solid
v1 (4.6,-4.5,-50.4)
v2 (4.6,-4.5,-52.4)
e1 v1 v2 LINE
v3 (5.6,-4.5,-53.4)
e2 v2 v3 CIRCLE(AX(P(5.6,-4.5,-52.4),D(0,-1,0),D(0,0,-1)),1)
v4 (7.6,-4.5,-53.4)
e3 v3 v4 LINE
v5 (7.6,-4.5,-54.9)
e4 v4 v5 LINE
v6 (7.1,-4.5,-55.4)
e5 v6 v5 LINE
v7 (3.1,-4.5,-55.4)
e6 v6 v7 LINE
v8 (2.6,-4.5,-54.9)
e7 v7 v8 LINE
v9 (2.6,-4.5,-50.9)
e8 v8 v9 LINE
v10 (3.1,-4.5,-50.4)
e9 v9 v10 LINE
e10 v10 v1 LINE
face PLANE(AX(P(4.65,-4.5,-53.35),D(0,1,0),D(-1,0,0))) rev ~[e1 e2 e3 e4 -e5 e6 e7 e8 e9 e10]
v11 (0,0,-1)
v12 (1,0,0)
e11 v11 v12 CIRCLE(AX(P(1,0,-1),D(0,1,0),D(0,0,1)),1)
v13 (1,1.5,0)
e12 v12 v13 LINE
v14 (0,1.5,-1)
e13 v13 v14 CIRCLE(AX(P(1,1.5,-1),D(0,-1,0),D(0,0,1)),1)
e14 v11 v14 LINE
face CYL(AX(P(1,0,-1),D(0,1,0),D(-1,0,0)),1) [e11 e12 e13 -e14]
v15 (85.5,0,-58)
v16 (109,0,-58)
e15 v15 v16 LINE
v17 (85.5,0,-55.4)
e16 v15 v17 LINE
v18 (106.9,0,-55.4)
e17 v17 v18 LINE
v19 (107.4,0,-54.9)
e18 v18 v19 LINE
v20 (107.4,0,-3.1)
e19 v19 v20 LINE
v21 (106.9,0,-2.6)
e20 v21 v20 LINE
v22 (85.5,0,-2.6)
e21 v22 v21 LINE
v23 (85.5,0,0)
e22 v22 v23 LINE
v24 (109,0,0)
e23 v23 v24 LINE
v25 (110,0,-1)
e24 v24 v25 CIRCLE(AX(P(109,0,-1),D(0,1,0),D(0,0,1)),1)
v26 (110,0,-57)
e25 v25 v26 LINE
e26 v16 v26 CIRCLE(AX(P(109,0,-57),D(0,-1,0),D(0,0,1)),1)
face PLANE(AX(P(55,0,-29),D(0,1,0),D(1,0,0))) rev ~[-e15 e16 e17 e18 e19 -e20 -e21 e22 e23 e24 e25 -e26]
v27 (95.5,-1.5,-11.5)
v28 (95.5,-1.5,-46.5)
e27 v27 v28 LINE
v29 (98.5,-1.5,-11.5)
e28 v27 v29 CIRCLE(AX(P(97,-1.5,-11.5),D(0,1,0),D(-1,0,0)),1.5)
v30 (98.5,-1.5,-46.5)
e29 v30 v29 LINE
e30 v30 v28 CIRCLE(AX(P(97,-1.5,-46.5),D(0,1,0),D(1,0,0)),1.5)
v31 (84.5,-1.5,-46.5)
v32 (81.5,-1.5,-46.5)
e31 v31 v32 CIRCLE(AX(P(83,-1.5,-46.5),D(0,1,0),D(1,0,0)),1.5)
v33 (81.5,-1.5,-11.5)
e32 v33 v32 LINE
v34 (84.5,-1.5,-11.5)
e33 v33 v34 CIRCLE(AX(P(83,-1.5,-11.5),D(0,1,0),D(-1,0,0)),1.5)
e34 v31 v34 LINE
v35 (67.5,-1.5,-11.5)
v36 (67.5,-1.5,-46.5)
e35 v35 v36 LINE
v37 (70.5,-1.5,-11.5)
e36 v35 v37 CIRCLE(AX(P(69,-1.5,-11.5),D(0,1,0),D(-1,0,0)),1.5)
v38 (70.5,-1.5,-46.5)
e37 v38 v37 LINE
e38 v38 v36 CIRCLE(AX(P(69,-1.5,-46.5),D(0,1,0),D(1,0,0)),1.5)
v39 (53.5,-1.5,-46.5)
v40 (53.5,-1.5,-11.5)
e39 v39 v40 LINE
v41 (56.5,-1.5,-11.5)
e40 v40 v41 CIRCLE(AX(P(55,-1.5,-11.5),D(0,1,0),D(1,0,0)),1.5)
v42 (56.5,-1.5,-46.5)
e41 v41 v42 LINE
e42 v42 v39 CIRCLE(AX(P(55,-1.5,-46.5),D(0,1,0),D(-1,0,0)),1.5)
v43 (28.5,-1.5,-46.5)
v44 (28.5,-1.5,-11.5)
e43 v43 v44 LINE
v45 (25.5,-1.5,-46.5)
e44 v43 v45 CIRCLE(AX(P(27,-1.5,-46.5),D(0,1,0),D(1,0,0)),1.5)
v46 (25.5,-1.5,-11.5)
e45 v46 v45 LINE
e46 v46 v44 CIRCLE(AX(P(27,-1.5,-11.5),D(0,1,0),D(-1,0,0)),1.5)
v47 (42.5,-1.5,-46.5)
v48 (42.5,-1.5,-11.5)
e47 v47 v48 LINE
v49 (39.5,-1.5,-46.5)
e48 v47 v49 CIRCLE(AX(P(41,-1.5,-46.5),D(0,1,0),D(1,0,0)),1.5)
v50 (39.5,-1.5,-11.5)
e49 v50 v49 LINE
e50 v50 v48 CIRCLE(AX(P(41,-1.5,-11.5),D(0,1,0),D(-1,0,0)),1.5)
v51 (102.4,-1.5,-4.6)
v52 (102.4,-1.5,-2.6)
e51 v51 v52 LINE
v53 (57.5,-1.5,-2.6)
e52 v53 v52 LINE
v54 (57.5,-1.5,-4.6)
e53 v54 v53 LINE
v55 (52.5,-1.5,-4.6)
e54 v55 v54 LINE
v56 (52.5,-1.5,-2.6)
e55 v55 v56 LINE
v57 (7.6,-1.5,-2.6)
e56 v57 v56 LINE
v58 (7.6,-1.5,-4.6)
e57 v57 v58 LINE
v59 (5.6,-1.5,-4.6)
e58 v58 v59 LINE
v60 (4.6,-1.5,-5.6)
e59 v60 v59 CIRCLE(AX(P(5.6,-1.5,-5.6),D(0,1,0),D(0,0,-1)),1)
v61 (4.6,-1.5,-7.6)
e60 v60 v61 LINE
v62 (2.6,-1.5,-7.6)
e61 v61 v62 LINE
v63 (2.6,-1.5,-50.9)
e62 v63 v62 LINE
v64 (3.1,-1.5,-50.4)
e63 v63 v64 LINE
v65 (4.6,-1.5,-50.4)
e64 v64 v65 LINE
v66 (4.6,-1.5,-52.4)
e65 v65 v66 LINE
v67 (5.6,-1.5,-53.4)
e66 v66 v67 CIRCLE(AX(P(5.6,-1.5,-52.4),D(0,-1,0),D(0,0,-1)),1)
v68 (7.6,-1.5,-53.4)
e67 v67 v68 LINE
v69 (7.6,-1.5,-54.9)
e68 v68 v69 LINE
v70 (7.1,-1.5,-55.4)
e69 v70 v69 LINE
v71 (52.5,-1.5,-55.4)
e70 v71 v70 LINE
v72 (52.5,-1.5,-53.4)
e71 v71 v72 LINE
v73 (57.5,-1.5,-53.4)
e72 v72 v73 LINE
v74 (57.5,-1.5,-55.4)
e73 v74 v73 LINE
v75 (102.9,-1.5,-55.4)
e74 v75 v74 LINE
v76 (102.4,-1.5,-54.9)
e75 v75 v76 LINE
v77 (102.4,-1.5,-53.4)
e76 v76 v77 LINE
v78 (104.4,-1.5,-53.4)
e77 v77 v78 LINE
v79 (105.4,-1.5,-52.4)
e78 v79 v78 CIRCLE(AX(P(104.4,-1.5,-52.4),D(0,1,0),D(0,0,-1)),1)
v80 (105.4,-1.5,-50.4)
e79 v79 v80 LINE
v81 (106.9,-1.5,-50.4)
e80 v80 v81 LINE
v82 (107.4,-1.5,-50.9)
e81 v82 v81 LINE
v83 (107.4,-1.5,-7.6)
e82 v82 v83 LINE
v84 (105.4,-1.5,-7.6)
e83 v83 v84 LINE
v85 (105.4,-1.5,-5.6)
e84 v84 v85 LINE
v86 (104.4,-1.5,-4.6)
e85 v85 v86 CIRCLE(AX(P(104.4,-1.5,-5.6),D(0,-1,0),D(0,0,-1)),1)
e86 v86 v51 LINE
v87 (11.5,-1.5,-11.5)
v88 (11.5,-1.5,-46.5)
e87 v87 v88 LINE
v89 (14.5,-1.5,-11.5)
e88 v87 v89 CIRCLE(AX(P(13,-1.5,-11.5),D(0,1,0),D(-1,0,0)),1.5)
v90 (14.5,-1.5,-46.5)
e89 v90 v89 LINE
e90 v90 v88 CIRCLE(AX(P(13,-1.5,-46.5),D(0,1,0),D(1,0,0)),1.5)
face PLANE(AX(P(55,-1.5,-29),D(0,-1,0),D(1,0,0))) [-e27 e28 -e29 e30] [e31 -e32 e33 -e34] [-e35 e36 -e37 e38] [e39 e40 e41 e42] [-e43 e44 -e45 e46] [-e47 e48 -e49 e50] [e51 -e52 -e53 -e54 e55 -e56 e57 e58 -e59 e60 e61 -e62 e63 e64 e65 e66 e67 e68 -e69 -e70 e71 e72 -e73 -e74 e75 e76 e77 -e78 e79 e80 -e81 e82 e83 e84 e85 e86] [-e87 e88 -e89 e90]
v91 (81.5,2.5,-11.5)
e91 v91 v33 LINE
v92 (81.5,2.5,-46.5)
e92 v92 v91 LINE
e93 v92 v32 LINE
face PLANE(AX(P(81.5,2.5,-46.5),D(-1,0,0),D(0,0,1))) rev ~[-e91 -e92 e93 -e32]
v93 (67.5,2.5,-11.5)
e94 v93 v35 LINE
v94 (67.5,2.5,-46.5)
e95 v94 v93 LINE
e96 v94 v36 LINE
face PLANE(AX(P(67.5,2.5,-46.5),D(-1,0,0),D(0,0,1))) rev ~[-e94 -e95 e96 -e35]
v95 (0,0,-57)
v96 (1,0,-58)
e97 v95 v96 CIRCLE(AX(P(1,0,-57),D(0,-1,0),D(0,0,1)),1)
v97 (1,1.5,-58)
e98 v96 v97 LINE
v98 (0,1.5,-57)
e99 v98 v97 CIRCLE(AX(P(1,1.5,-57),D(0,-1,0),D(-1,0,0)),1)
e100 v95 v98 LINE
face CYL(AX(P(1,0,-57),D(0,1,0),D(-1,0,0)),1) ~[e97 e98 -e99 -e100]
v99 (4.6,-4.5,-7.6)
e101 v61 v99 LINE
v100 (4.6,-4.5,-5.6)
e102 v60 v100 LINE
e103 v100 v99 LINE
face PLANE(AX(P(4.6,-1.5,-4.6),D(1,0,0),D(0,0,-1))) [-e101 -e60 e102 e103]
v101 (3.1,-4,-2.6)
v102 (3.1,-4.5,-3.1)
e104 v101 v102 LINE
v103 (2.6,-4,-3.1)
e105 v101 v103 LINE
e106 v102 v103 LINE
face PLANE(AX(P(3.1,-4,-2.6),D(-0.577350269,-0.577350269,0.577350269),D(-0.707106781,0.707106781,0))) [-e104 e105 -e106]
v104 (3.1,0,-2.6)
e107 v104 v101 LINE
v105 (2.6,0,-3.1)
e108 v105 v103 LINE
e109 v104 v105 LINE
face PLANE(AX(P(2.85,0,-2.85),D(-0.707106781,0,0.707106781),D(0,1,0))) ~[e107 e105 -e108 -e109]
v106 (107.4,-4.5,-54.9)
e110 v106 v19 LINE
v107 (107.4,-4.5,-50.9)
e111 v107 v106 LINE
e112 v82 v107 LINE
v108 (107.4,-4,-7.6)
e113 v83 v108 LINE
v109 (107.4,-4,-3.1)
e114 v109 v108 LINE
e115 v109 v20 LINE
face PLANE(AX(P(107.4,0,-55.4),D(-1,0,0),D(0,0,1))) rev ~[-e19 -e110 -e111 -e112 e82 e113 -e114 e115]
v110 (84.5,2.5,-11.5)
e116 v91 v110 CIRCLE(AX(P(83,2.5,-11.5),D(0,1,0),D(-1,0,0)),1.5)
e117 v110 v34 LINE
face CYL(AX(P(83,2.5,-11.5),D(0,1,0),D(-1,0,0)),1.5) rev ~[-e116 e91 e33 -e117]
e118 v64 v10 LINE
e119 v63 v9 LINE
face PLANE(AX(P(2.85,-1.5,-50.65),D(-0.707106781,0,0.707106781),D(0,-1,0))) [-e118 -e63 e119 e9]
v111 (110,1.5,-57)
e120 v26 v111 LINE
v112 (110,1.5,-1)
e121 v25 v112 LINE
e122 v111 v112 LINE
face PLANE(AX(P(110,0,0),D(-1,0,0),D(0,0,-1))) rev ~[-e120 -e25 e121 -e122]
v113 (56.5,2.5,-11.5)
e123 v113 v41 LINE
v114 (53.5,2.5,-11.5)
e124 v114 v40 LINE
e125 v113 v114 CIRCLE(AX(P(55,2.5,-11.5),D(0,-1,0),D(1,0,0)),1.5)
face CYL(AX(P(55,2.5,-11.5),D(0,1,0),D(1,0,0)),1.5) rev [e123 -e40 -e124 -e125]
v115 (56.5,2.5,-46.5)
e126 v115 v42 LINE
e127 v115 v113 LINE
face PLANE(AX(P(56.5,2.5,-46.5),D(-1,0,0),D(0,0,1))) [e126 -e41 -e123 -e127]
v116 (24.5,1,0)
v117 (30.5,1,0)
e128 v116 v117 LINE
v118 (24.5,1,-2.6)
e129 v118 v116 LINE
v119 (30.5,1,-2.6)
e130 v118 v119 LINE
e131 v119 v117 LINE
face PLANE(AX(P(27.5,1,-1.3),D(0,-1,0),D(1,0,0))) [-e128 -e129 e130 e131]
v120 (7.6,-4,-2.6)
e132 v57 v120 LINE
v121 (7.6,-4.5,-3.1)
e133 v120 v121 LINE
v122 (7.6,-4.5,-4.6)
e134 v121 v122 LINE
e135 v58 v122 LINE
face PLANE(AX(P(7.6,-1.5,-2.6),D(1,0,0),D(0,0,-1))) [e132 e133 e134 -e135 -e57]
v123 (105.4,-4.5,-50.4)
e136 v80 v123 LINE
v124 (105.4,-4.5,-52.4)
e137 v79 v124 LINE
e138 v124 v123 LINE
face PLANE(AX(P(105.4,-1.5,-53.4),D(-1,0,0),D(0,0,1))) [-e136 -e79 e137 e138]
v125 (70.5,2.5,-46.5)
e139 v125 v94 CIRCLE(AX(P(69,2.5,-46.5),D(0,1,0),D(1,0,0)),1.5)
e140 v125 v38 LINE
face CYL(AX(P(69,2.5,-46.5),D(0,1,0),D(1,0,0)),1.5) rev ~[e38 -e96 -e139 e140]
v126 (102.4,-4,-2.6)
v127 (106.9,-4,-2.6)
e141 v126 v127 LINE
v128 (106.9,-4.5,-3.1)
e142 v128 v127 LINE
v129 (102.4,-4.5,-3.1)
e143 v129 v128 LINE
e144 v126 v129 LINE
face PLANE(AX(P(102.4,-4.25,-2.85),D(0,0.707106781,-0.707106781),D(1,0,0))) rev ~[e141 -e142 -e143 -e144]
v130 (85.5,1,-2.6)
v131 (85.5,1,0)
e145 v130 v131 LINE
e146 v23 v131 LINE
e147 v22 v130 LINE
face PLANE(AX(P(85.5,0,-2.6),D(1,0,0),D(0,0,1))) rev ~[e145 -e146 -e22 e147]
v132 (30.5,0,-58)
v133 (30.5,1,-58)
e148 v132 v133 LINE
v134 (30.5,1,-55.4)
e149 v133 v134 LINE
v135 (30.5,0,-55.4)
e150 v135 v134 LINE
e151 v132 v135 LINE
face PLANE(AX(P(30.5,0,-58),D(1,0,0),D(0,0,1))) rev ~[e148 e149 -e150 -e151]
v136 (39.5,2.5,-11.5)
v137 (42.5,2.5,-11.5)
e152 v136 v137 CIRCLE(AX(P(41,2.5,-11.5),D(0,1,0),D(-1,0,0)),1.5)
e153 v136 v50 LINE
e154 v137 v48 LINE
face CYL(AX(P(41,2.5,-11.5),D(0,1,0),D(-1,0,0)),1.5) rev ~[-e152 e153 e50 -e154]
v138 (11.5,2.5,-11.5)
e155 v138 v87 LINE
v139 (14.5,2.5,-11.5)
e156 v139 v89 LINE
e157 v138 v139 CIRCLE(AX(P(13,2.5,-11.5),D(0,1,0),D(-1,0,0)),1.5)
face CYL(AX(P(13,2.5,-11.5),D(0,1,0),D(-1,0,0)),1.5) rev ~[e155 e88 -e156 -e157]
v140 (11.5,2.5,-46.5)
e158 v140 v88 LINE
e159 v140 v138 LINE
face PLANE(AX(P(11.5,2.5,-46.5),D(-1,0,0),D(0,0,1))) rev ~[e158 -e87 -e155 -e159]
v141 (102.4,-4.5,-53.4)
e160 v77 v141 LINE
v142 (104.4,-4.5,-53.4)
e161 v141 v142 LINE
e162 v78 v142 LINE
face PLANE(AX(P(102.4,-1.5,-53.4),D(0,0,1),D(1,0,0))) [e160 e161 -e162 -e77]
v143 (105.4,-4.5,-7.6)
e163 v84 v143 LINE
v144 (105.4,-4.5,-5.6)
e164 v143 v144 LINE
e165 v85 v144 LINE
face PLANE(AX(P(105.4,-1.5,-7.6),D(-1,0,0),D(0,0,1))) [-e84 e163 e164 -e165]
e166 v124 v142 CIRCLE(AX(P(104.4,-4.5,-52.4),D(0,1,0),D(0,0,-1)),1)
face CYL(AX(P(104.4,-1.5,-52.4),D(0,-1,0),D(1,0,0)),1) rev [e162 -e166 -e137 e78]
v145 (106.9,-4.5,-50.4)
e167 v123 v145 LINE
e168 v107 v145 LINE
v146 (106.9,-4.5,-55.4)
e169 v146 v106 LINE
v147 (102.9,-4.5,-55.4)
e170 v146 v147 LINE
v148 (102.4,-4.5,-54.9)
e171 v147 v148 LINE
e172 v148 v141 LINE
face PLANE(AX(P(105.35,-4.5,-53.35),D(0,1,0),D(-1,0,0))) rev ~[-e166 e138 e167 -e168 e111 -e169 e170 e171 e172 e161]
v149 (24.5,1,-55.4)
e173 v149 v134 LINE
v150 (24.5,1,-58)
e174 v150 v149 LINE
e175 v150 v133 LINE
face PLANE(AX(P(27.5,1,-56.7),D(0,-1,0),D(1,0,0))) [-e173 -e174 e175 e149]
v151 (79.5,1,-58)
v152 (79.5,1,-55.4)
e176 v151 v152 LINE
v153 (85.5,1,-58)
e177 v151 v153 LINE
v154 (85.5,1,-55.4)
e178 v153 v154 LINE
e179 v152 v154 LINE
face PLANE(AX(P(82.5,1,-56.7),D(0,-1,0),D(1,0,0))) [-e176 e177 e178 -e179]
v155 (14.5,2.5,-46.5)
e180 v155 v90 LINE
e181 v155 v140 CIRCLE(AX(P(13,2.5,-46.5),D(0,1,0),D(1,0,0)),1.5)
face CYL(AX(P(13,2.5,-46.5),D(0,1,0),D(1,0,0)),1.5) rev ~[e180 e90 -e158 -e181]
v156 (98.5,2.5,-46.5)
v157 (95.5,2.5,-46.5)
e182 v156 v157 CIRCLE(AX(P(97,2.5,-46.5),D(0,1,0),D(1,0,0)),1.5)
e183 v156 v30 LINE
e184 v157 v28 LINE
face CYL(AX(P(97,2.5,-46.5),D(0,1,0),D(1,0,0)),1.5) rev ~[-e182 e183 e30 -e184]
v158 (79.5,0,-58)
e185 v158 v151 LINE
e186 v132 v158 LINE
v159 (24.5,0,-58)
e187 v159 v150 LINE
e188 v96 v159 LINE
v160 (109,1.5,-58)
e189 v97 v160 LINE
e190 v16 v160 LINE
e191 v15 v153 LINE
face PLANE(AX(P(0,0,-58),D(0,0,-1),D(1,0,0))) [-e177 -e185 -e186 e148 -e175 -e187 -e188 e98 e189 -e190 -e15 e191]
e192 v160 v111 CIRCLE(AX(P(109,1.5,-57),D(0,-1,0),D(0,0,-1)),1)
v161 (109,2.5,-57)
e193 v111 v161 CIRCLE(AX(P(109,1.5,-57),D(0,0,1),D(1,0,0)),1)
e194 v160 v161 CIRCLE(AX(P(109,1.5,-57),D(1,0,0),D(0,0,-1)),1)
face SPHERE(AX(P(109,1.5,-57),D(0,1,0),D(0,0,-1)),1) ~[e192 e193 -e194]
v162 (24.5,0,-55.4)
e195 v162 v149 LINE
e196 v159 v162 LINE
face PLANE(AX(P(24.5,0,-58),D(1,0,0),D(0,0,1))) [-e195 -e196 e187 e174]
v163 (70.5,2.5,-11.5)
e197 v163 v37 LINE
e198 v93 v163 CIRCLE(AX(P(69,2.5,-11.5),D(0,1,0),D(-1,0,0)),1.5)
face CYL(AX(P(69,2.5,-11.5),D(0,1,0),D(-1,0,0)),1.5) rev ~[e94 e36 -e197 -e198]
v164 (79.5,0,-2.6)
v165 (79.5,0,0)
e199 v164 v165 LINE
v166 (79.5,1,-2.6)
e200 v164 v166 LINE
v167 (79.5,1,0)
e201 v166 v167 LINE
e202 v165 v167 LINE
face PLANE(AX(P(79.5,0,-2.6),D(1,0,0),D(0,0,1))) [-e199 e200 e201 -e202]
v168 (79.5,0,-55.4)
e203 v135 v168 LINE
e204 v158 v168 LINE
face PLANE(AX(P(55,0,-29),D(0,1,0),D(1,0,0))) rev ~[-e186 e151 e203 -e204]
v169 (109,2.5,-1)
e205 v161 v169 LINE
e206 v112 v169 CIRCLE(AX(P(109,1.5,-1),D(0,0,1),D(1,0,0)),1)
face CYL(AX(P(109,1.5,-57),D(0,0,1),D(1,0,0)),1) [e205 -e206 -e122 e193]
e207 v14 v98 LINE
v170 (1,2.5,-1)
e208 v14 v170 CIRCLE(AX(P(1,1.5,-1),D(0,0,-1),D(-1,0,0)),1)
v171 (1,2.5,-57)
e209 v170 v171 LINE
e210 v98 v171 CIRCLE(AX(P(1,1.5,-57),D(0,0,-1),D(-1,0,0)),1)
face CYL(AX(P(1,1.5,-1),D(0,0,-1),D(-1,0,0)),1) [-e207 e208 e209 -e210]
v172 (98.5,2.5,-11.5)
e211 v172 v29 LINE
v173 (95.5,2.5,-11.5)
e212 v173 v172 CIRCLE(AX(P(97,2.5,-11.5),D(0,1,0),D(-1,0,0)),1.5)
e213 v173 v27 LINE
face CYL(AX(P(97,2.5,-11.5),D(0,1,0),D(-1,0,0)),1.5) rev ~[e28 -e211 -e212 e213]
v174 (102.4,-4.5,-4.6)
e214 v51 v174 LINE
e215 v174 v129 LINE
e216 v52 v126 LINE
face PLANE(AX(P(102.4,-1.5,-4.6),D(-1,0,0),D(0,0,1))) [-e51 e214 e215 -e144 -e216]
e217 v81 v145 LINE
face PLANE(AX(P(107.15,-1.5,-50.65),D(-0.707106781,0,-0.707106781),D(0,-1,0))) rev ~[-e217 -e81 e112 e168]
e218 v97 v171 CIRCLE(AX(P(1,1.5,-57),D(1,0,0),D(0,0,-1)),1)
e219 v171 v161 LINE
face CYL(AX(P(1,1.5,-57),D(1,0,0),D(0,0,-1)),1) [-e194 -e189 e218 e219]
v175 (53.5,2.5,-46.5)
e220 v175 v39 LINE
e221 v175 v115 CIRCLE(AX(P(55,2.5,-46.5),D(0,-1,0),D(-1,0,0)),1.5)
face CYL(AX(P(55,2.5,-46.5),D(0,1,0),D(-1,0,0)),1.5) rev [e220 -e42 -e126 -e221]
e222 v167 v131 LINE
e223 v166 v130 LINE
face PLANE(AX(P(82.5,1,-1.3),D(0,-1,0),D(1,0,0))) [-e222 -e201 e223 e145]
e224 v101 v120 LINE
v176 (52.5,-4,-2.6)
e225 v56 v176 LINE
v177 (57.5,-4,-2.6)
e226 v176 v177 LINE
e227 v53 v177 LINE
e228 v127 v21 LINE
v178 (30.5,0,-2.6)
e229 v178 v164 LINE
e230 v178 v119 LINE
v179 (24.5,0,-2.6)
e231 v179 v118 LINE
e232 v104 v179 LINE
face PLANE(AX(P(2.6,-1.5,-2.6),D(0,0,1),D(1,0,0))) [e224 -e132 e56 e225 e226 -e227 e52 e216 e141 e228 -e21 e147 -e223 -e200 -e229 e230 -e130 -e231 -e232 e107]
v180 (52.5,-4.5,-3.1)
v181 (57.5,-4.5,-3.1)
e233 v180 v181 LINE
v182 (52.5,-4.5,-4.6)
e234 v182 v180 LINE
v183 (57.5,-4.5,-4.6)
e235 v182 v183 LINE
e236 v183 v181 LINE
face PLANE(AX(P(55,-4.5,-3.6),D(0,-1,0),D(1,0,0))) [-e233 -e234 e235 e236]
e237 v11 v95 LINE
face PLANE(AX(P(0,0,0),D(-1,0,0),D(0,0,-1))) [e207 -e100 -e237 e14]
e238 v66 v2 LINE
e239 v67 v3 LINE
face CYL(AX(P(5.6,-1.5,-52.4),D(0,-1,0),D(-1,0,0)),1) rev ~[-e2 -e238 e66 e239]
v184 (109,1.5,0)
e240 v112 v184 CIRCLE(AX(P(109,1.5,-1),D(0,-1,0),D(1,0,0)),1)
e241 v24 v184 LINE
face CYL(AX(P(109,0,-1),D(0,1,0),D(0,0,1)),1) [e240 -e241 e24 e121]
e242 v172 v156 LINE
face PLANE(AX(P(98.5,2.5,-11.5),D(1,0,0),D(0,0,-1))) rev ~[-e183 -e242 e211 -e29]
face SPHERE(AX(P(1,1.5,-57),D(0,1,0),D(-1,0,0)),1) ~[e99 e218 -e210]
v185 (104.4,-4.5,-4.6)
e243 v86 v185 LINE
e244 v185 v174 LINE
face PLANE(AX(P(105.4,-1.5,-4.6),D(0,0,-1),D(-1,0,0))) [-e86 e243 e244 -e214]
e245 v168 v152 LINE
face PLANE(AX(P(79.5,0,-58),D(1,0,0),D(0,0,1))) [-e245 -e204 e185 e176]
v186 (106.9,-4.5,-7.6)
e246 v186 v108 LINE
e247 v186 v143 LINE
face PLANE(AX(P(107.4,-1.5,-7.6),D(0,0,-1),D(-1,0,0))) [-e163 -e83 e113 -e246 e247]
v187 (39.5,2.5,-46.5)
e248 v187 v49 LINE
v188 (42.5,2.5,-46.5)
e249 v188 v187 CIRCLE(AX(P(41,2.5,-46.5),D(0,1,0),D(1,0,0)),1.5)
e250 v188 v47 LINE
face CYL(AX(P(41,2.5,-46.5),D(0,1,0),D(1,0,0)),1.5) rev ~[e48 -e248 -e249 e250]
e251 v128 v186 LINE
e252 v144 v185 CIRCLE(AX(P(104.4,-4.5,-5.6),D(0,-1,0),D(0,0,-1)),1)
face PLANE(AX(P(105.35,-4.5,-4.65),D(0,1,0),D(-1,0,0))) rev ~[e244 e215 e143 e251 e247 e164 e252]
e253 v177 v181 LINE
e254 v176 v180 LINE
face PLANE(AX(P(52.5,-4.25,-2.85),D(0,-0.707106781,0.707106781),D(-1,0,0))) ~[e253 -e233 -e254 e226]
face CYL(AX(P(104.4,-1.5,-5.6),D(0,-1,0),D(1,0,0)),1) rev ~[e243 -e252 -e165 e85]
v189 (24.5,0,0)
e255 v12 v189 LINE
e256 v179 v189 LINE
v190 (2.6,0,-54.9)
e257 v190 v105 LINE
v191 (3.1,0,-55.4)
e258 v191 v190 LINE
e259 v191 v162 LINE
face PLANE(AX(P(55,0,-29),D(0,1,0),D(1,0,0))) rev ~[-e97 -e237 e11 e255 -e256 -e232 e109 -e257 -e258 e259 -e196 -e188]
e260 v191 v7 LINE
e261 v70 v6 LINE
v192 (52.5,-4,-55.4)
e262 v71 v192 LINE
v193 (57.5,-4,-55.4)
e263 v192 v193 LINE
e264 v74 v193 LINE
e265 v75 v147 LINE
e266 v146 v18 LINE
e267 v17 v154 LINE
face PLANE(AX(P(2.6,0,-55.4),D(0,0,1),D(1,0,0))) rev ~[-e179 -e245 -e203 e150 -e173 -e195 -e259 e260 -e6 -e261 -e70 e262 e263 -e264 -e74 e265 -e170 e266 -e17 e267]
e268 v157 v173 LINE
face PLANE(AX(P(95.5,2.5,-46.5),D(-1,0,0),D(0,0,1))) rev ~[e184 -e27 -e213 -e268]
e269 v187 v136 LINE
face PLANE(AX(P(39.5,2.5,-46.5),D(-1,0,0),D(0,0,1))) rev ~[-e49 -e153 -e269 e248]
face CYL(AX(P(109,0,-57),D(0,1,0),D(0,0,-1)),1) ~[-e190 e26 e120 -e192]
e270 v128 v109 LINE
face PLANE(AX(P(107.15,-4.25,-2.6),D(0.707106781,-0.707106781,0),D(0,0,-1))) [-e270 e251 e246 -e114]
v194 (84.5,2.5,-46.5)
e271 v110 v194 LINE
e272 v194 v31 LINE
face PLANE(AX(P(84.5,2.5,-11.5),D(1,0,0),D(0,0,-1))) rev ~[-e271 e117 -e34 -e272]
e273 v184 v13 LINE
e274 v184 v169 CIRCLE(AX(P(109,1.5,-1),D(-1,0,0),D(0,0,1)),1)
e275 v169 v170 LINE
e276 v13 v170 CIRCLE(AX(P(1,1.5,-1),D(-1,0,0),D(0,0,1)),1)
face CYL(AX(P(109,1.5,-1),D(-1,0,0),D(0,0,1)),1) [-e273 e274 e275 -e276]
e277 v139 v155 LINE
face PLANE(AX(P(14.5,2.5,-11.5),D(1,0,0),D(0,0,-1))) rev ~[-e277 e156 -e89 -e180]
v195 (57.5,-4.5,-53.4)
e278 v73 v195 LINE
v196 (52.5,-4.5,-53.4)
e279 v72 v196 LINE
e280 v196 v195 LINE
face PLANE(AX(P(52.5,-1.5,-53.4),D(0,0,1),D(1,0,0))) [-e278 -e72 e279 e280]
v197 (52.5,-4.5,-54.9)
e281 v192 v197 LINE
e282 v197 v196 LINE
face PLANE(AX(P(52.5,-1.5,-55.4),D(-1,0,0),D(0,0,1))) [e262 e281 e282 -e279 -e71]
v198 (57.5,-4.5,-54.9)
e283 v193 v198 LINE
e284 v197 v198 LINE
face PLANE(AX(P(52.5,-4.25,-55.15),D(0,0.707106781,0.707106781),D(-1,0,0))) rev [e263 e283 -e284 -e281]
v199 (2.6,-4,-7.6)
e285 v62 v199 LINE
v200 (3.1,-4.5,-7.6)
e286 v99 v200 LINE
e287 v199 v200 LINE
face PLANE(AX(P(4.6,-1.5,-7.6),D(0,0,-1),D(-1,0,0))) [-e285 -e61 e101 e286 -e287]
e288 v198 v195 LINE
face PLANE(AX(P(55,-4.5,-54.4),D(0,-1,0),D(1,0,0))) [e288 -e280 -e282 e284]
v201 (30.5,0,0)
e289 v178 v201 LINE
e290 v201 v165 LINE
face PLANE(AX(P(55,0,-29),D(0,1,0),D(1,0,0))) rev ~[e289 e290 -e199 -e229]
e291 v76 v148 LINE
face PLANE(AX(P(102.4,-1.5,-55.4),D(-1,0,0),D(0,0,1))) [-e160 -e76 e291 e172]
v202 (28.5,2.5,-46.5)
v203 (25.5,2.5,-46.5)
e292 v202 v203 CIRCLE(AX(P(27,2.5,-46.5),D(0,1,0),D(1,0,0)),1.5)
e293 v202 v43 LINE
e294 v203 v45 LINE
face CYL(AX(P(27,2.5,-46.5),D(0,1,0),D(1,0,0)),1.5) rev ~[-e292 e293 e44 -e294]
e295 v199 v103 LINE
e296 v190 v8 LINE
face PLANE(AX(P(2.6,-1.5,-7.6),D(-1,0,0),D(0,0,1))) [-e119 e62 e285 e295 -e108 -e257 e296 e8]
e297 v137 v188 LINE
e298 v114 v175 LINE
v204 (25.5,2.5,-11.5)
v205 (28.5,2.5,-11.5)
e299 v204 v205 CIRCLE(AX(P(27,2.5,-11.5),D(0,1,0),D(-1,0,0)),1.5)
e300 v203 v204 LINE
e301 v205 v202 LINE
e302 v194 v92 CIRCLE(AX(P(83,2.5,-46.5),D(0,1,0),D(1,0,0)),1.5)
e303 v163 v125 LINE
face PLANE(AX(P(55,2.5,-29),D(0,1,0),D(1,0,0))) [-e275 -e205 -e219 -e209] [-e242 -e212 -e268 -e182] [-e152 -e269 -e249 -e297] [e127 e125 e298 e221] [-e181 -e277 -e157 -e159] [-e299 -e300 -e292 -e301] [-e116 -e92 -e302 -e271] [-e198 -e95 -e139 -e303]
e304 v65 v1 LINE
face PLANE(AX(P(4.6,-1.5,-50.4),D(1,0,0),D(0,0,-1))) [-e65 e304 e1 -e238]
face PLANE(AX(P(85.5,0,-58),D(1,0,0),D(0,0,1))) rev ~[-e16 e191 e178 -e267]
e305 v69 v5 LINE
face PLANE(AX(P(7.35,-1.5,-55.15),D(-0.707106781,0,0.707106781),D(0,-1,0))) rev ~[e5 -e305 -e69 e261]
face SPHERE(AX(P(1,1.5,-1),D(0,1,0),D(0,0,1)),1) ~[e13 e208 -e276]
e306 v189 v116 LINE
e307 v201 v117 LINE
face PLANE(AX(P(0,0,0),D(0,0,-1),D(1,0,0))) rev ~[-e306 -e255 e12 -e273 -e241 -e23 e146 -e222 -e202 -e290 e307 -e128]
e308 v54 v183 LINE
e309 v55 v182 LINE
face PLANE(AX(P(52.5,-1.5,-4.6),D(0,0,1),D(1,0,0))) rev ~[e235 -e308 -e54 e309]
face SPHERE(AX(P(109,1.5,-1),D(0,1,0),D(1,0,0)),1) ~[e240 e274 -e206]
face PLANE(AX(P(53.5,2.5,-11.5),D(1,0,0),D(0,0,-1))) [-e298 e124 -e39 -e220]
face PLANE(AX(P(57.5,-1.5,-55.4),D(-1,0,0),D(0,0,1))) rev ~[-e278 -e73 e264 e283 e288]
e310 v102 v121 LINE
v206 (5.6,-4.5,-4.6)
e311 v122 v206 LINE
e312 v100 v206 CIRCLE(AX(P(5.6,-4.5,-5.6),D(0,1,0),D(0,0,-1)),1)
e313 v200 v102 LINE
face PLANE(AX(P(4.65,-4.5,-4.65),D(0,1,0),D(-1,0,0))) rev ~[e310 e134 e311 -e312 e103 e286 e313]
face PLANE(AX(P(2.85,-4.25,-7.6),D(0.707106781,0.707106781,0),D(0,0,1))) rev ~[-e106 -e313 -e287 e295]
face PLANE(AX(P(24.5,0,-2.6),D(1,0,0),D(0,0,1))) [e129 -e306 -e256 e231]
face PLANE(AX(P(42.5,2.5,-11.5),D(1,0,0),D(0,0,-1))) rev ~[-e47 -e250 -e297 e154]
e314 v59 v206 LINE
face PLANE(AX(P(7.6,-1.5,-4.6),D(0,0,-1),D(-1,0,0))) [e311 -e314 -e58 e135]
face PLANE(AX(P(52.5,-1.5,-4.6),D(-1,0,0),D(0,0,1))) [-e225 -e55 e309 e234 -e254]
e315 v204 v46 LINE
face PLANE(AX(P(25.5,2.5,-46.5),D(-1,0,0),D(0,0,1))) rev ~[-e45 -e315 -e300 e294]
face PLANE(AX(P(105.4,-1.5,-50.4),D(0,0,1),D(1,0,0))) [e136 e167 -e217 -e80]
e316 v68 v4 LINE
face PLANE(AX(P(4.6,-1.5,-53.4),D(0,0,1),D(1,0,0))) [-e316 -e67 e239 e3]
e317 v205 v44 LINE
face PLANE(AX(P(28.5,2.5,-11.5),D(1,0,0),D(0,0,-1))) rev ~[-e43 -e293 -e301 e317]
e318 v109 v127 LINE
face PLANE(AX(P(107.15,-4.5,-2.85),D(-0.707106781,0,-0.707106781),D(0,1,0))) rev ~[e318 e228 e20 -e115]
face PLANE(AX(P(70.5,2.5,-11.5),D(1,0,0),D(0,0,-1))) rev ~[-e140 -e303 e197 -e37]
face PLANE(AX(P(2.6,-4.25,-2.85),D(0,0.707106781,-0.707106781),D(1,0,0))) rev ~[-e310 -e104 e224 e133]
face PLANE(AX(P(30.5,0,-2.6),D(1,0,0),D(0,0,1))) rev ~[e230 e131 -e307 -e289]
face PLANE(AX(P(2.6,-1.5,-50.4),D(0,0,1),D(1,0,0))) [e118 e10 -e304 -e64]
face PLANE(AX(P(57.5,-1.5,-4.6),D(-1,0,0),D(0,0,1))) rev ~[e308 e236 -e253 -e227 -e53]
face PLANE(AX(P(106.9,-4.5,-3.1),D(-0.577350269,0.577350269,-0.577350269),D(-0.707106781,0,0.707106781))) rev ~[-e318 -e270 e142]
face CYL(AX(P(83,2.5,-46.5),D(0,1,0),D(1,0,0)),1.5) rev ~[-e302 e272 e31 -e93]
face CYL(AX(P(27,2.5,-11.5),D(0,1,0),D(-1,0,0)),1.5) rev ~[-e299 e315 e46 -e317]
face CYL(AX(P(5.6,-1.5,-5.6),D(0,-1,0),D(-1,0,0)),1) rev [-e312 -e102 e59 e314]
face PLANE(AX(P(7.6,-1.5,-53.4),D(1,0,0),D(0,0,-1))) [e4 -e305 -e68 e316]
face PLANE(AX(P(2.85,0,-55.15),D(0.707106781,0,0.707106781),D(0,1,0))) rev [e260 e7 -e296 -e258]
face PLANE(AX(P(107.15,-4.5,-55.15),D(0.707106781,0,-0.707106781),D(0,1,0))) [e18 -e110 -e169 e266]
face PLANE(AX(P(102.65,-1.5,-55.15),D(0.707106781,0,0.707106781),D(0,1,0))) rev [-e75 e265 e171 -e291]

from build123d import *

# Parameters (mm, degrees)
SKETCH1_W           = 110
SKETCH1_H           = 58
BOSS_EXTRUDE1_DEPTH = 2.5
SKETCH2_W           = 104.8
SKETCH2_H           = 52.8
BOSS_EXTRUDE2_DEPTH = 1.5
SKETCH3_W           = 5
SKETCH3_H           = 2
BOSS_EXTRUDE3_DEPTH = 3
FILLET1_R           = 1
SKETCH4_W           = 6
SKETCH4_H           = 2.6
CUT_EXTRUDE1_DEPTH  = 1
FILLET2_R           = 1
CHAMFER1_SIZE       = 0.5
CUT_EXTRUDE2_DEPTH  = 125.551194294
FILLET3_R           = 1


with BuildPart() as part:
    # Sketch1 → Boss-Extrude1 (new body)
    with BuildSketch(Plane(origin=(0, 0, 0), x_dir=(1, 0, 0), z_dir=(0, 1, 0))):
        with Locations((55, 29)):
            Rectangle(SKETCH1_W, SKETCH1_H)
    extrude(amount=BOSS_EXTRUDE1_DEPTH)

    # Sketch2 → Boss-Extrude2 (add)
    with BuildSketch(Plane.XZ):
        with Locations((55, -29)):
            Rectangle(SKETCH2_W, SKETCH2_H)
    extrude(amount=BOSS_EXTRUDE2_DEPTH)

    # Sketch3 → Boss-Extrude3 (add)
    with BuildSketch(Plane.XZ.offset(1.5)):
        with Locations((55, -3.6)):
            Rectangle(SKETCH3_W, SKETCH3_H)
        Polygon((2.6, -2.6), (7.6, -2.6), (7.6, -4.6), (4.6, -4.6), (4.6, -7.6), (2.6, -7.6), align=None)
        Polygon((107.4, -2.6), (107.4, -7.6), (105.4, -7.6), (105.4, -4.6), (102.4, -4.6), (102.4, -2.6), align=None)
        Polygon((107.4, -55.4), (102.4, -55.4), (102.4, -53.4), (105.4, -53.4), (105.4, -50.4), (107.4, -50.4), align=None)
        with Locations((55, -54.4)):
            Rectangle(SKETCH3_W, SKETCH3_H)
        Polygon((2.6, -55.4), (2.6, -50.4), (4.6, -50.4), (4.6, -53.4), (7.6, -53.4), (7.6, -55.4), align=None)
    extrude(amount=BOSS_EXTRUDE3_DEPTH)

    # Fillet1
    fillet1_edges = [part.edges().sort_by_distance(p)[0] for p in [
        (105.4, -3, -53.4),
        (4.6, -3, -4.6),
        (105.4, -3, -4.6),
        (4.6, -3, -53.4),
    ]]
    fillet(fillet1_edges, radius=FILLET1_R)

    # Sketch4 → Cut-Extrude1 (cut)
    with BuildSketch(Plane.XZ):
        with Locations((27.5, -1.3)):
            Rectangle(SKETCH4_W, SKETCH4_H)
        with Locations((82.5, -1.3)):
            Rectangle(SKETCH4_W, SKETCH4_H)
        with Locations((82.5, -56.7)):
            Rectangle(SKETCH4_W, SKETCH4_H)
        with Locations((27.5, -56.7)):
            Rectangle(SKETCH4_W, SKETCH4_H)
    extrude(amount=-CUT_EXTRUDE1_DEPTH, mode=Mode.SUBTRACT)

    # Fillet2
    fillet2_edges = [part.edges().sort_by_distance(p)[0] for p in [
        (0, 1.25, -58),
        (110, 1.25, -58),
        (110, 1.25, 0),
        (0, 1.25, 0),
    ]]
    fillet(fillet2_edges, radius=FILLET2_R)

    # Chamfer1
    chamfer1_edges = [part.edges().sort_by_distance(p)[0] for p in [
        (55, -4.5, -55.4),
        (2.6, -3, -50.4),
        (2.6, -2.25, -55.4),
        (7.6, -3, -55.4),
        (107.4, -3, -50.4),
        (102.4, -3, -55.4),
        (107.4, -2.25, -55.4),
        (107.4, -2.25, -2.6),
        (107.4, -4.5, -5.1),
        (104.9, -4.5, -2.6),
        (55, -4.5, -2.6),
        (2.6, -4.5, -5.1),
        (5.1, -4.5, -2.6),
        (2.6, -2.25, -2.6),
    ]]
    chamfer(chamfer1_edges, length=CHAMFER1_SIZE)

    # Sketch5 → Cut-Extrude2 (cut, through all)
    with BuildSketch(Plane(origin=(0, 2.5, 0), x_dir=(1, 0, 0), z_dir=(0, 1, 0))):
        with BuildLine():
            Line((56.5, 46.5), (56.5, 11.5))
            ThreePointArc((56.5, 11.5), (55, 10), (53.5, 11.5))
            Line((53.5, 11.5), (53.5, 46.5))
            ThreePointArc((53.5, 46.5), (55, 48), (56.5, 46.5))
        make_face()
        with BuildLine():
            Line((67.5, 46.5), (67.5, 11.5))
            ThreePointArc((67.5, 11.5), (69, 10), (70.5, 11.5))
            Line((70.5, 11.5), (70.5, 46.5))
            ThreePointArc((70.5, 46.5), (69, 48), (67.5, 46.5))
        make_face()
        with BuildLine():
            Line((81.5, 46.5), (81.5, 11.5))
            ThreePointArc((81.5, 11.5), (83, 10), (84.5, 11.5))
            Line((84.5, 11.5), (84.5, 46.5))
            ThreePointArc((84.5, 46.5), (83, 48), (81.5, 46.5))
        make_face()
        with BuildLine():
            Line((95.5, 46.5), (95.5, 11.5))
            ThreePointArc((95.5, 11.5), (97, 10), (98.5, 11.5))
            Line((98.5, 11.5), (98.5, 46.5))
            ThreePointArc((98.5, 46.5), (97, 48), (95.5, 46.5))
        make_face()
        with BuildLine():
            Line((39.5, 46.5), (39.5, 11.5))
            ThreePointArc((39.5, 11.5), (41, 10), (42.5, 11.5))
            Line((42.5, 11.5), (42.5, 46.5))
            ThreePointArc((42.5, 46.5), (41, 48), (39.5, 46.5))
        make_face()
        with BuildLine():
            Line((25.5, 46.5), (25.5, 11.5))
            ThreePointArc((25.5, 11.5), (27, 10), (28.5, 11.5))
            Line((28.5, 11.5), (28.5, 46.5))
            ThreePointArc((28.5, 46.5), (27, 48), (25.5, 46.5))
        make_face()
        with BuildLine():
            Line((11.5, 46.5), (11.5, 11.5))
            ThreePointArc((11.5, 11.5), (13, 10), (14.5, 11.5))
            Line((14.5, 11.5), (14.5, 46.5))
            ThreePointArc((14.5, 46.5), (13, 48), (11.5, 46.5))
        make_face()
    extrude(amount=-CUT_EXTRUDE2_DEPTH, mode=Mode.SUBTRACT)

    # Fillet3
    fillet3_edges = [part.edges().sort_by_distance(p)[0] for p in [
        (0, 2.5, -29),
        (55, 2.5, -58),
        (55, 2.5, 0),
        (110, 2.5, -29),
        (109.707106781, 2.5, -0.292893219),
        (109.707106781, 2.5, -57.707106781),
        (0.292893219, 2.5, -0.292893219),
        (0.292893219, 2.5, -57.707106781),
    ]]
    fillet(fillet3_edges, radius=FILLET3_R)


solid = part.part
